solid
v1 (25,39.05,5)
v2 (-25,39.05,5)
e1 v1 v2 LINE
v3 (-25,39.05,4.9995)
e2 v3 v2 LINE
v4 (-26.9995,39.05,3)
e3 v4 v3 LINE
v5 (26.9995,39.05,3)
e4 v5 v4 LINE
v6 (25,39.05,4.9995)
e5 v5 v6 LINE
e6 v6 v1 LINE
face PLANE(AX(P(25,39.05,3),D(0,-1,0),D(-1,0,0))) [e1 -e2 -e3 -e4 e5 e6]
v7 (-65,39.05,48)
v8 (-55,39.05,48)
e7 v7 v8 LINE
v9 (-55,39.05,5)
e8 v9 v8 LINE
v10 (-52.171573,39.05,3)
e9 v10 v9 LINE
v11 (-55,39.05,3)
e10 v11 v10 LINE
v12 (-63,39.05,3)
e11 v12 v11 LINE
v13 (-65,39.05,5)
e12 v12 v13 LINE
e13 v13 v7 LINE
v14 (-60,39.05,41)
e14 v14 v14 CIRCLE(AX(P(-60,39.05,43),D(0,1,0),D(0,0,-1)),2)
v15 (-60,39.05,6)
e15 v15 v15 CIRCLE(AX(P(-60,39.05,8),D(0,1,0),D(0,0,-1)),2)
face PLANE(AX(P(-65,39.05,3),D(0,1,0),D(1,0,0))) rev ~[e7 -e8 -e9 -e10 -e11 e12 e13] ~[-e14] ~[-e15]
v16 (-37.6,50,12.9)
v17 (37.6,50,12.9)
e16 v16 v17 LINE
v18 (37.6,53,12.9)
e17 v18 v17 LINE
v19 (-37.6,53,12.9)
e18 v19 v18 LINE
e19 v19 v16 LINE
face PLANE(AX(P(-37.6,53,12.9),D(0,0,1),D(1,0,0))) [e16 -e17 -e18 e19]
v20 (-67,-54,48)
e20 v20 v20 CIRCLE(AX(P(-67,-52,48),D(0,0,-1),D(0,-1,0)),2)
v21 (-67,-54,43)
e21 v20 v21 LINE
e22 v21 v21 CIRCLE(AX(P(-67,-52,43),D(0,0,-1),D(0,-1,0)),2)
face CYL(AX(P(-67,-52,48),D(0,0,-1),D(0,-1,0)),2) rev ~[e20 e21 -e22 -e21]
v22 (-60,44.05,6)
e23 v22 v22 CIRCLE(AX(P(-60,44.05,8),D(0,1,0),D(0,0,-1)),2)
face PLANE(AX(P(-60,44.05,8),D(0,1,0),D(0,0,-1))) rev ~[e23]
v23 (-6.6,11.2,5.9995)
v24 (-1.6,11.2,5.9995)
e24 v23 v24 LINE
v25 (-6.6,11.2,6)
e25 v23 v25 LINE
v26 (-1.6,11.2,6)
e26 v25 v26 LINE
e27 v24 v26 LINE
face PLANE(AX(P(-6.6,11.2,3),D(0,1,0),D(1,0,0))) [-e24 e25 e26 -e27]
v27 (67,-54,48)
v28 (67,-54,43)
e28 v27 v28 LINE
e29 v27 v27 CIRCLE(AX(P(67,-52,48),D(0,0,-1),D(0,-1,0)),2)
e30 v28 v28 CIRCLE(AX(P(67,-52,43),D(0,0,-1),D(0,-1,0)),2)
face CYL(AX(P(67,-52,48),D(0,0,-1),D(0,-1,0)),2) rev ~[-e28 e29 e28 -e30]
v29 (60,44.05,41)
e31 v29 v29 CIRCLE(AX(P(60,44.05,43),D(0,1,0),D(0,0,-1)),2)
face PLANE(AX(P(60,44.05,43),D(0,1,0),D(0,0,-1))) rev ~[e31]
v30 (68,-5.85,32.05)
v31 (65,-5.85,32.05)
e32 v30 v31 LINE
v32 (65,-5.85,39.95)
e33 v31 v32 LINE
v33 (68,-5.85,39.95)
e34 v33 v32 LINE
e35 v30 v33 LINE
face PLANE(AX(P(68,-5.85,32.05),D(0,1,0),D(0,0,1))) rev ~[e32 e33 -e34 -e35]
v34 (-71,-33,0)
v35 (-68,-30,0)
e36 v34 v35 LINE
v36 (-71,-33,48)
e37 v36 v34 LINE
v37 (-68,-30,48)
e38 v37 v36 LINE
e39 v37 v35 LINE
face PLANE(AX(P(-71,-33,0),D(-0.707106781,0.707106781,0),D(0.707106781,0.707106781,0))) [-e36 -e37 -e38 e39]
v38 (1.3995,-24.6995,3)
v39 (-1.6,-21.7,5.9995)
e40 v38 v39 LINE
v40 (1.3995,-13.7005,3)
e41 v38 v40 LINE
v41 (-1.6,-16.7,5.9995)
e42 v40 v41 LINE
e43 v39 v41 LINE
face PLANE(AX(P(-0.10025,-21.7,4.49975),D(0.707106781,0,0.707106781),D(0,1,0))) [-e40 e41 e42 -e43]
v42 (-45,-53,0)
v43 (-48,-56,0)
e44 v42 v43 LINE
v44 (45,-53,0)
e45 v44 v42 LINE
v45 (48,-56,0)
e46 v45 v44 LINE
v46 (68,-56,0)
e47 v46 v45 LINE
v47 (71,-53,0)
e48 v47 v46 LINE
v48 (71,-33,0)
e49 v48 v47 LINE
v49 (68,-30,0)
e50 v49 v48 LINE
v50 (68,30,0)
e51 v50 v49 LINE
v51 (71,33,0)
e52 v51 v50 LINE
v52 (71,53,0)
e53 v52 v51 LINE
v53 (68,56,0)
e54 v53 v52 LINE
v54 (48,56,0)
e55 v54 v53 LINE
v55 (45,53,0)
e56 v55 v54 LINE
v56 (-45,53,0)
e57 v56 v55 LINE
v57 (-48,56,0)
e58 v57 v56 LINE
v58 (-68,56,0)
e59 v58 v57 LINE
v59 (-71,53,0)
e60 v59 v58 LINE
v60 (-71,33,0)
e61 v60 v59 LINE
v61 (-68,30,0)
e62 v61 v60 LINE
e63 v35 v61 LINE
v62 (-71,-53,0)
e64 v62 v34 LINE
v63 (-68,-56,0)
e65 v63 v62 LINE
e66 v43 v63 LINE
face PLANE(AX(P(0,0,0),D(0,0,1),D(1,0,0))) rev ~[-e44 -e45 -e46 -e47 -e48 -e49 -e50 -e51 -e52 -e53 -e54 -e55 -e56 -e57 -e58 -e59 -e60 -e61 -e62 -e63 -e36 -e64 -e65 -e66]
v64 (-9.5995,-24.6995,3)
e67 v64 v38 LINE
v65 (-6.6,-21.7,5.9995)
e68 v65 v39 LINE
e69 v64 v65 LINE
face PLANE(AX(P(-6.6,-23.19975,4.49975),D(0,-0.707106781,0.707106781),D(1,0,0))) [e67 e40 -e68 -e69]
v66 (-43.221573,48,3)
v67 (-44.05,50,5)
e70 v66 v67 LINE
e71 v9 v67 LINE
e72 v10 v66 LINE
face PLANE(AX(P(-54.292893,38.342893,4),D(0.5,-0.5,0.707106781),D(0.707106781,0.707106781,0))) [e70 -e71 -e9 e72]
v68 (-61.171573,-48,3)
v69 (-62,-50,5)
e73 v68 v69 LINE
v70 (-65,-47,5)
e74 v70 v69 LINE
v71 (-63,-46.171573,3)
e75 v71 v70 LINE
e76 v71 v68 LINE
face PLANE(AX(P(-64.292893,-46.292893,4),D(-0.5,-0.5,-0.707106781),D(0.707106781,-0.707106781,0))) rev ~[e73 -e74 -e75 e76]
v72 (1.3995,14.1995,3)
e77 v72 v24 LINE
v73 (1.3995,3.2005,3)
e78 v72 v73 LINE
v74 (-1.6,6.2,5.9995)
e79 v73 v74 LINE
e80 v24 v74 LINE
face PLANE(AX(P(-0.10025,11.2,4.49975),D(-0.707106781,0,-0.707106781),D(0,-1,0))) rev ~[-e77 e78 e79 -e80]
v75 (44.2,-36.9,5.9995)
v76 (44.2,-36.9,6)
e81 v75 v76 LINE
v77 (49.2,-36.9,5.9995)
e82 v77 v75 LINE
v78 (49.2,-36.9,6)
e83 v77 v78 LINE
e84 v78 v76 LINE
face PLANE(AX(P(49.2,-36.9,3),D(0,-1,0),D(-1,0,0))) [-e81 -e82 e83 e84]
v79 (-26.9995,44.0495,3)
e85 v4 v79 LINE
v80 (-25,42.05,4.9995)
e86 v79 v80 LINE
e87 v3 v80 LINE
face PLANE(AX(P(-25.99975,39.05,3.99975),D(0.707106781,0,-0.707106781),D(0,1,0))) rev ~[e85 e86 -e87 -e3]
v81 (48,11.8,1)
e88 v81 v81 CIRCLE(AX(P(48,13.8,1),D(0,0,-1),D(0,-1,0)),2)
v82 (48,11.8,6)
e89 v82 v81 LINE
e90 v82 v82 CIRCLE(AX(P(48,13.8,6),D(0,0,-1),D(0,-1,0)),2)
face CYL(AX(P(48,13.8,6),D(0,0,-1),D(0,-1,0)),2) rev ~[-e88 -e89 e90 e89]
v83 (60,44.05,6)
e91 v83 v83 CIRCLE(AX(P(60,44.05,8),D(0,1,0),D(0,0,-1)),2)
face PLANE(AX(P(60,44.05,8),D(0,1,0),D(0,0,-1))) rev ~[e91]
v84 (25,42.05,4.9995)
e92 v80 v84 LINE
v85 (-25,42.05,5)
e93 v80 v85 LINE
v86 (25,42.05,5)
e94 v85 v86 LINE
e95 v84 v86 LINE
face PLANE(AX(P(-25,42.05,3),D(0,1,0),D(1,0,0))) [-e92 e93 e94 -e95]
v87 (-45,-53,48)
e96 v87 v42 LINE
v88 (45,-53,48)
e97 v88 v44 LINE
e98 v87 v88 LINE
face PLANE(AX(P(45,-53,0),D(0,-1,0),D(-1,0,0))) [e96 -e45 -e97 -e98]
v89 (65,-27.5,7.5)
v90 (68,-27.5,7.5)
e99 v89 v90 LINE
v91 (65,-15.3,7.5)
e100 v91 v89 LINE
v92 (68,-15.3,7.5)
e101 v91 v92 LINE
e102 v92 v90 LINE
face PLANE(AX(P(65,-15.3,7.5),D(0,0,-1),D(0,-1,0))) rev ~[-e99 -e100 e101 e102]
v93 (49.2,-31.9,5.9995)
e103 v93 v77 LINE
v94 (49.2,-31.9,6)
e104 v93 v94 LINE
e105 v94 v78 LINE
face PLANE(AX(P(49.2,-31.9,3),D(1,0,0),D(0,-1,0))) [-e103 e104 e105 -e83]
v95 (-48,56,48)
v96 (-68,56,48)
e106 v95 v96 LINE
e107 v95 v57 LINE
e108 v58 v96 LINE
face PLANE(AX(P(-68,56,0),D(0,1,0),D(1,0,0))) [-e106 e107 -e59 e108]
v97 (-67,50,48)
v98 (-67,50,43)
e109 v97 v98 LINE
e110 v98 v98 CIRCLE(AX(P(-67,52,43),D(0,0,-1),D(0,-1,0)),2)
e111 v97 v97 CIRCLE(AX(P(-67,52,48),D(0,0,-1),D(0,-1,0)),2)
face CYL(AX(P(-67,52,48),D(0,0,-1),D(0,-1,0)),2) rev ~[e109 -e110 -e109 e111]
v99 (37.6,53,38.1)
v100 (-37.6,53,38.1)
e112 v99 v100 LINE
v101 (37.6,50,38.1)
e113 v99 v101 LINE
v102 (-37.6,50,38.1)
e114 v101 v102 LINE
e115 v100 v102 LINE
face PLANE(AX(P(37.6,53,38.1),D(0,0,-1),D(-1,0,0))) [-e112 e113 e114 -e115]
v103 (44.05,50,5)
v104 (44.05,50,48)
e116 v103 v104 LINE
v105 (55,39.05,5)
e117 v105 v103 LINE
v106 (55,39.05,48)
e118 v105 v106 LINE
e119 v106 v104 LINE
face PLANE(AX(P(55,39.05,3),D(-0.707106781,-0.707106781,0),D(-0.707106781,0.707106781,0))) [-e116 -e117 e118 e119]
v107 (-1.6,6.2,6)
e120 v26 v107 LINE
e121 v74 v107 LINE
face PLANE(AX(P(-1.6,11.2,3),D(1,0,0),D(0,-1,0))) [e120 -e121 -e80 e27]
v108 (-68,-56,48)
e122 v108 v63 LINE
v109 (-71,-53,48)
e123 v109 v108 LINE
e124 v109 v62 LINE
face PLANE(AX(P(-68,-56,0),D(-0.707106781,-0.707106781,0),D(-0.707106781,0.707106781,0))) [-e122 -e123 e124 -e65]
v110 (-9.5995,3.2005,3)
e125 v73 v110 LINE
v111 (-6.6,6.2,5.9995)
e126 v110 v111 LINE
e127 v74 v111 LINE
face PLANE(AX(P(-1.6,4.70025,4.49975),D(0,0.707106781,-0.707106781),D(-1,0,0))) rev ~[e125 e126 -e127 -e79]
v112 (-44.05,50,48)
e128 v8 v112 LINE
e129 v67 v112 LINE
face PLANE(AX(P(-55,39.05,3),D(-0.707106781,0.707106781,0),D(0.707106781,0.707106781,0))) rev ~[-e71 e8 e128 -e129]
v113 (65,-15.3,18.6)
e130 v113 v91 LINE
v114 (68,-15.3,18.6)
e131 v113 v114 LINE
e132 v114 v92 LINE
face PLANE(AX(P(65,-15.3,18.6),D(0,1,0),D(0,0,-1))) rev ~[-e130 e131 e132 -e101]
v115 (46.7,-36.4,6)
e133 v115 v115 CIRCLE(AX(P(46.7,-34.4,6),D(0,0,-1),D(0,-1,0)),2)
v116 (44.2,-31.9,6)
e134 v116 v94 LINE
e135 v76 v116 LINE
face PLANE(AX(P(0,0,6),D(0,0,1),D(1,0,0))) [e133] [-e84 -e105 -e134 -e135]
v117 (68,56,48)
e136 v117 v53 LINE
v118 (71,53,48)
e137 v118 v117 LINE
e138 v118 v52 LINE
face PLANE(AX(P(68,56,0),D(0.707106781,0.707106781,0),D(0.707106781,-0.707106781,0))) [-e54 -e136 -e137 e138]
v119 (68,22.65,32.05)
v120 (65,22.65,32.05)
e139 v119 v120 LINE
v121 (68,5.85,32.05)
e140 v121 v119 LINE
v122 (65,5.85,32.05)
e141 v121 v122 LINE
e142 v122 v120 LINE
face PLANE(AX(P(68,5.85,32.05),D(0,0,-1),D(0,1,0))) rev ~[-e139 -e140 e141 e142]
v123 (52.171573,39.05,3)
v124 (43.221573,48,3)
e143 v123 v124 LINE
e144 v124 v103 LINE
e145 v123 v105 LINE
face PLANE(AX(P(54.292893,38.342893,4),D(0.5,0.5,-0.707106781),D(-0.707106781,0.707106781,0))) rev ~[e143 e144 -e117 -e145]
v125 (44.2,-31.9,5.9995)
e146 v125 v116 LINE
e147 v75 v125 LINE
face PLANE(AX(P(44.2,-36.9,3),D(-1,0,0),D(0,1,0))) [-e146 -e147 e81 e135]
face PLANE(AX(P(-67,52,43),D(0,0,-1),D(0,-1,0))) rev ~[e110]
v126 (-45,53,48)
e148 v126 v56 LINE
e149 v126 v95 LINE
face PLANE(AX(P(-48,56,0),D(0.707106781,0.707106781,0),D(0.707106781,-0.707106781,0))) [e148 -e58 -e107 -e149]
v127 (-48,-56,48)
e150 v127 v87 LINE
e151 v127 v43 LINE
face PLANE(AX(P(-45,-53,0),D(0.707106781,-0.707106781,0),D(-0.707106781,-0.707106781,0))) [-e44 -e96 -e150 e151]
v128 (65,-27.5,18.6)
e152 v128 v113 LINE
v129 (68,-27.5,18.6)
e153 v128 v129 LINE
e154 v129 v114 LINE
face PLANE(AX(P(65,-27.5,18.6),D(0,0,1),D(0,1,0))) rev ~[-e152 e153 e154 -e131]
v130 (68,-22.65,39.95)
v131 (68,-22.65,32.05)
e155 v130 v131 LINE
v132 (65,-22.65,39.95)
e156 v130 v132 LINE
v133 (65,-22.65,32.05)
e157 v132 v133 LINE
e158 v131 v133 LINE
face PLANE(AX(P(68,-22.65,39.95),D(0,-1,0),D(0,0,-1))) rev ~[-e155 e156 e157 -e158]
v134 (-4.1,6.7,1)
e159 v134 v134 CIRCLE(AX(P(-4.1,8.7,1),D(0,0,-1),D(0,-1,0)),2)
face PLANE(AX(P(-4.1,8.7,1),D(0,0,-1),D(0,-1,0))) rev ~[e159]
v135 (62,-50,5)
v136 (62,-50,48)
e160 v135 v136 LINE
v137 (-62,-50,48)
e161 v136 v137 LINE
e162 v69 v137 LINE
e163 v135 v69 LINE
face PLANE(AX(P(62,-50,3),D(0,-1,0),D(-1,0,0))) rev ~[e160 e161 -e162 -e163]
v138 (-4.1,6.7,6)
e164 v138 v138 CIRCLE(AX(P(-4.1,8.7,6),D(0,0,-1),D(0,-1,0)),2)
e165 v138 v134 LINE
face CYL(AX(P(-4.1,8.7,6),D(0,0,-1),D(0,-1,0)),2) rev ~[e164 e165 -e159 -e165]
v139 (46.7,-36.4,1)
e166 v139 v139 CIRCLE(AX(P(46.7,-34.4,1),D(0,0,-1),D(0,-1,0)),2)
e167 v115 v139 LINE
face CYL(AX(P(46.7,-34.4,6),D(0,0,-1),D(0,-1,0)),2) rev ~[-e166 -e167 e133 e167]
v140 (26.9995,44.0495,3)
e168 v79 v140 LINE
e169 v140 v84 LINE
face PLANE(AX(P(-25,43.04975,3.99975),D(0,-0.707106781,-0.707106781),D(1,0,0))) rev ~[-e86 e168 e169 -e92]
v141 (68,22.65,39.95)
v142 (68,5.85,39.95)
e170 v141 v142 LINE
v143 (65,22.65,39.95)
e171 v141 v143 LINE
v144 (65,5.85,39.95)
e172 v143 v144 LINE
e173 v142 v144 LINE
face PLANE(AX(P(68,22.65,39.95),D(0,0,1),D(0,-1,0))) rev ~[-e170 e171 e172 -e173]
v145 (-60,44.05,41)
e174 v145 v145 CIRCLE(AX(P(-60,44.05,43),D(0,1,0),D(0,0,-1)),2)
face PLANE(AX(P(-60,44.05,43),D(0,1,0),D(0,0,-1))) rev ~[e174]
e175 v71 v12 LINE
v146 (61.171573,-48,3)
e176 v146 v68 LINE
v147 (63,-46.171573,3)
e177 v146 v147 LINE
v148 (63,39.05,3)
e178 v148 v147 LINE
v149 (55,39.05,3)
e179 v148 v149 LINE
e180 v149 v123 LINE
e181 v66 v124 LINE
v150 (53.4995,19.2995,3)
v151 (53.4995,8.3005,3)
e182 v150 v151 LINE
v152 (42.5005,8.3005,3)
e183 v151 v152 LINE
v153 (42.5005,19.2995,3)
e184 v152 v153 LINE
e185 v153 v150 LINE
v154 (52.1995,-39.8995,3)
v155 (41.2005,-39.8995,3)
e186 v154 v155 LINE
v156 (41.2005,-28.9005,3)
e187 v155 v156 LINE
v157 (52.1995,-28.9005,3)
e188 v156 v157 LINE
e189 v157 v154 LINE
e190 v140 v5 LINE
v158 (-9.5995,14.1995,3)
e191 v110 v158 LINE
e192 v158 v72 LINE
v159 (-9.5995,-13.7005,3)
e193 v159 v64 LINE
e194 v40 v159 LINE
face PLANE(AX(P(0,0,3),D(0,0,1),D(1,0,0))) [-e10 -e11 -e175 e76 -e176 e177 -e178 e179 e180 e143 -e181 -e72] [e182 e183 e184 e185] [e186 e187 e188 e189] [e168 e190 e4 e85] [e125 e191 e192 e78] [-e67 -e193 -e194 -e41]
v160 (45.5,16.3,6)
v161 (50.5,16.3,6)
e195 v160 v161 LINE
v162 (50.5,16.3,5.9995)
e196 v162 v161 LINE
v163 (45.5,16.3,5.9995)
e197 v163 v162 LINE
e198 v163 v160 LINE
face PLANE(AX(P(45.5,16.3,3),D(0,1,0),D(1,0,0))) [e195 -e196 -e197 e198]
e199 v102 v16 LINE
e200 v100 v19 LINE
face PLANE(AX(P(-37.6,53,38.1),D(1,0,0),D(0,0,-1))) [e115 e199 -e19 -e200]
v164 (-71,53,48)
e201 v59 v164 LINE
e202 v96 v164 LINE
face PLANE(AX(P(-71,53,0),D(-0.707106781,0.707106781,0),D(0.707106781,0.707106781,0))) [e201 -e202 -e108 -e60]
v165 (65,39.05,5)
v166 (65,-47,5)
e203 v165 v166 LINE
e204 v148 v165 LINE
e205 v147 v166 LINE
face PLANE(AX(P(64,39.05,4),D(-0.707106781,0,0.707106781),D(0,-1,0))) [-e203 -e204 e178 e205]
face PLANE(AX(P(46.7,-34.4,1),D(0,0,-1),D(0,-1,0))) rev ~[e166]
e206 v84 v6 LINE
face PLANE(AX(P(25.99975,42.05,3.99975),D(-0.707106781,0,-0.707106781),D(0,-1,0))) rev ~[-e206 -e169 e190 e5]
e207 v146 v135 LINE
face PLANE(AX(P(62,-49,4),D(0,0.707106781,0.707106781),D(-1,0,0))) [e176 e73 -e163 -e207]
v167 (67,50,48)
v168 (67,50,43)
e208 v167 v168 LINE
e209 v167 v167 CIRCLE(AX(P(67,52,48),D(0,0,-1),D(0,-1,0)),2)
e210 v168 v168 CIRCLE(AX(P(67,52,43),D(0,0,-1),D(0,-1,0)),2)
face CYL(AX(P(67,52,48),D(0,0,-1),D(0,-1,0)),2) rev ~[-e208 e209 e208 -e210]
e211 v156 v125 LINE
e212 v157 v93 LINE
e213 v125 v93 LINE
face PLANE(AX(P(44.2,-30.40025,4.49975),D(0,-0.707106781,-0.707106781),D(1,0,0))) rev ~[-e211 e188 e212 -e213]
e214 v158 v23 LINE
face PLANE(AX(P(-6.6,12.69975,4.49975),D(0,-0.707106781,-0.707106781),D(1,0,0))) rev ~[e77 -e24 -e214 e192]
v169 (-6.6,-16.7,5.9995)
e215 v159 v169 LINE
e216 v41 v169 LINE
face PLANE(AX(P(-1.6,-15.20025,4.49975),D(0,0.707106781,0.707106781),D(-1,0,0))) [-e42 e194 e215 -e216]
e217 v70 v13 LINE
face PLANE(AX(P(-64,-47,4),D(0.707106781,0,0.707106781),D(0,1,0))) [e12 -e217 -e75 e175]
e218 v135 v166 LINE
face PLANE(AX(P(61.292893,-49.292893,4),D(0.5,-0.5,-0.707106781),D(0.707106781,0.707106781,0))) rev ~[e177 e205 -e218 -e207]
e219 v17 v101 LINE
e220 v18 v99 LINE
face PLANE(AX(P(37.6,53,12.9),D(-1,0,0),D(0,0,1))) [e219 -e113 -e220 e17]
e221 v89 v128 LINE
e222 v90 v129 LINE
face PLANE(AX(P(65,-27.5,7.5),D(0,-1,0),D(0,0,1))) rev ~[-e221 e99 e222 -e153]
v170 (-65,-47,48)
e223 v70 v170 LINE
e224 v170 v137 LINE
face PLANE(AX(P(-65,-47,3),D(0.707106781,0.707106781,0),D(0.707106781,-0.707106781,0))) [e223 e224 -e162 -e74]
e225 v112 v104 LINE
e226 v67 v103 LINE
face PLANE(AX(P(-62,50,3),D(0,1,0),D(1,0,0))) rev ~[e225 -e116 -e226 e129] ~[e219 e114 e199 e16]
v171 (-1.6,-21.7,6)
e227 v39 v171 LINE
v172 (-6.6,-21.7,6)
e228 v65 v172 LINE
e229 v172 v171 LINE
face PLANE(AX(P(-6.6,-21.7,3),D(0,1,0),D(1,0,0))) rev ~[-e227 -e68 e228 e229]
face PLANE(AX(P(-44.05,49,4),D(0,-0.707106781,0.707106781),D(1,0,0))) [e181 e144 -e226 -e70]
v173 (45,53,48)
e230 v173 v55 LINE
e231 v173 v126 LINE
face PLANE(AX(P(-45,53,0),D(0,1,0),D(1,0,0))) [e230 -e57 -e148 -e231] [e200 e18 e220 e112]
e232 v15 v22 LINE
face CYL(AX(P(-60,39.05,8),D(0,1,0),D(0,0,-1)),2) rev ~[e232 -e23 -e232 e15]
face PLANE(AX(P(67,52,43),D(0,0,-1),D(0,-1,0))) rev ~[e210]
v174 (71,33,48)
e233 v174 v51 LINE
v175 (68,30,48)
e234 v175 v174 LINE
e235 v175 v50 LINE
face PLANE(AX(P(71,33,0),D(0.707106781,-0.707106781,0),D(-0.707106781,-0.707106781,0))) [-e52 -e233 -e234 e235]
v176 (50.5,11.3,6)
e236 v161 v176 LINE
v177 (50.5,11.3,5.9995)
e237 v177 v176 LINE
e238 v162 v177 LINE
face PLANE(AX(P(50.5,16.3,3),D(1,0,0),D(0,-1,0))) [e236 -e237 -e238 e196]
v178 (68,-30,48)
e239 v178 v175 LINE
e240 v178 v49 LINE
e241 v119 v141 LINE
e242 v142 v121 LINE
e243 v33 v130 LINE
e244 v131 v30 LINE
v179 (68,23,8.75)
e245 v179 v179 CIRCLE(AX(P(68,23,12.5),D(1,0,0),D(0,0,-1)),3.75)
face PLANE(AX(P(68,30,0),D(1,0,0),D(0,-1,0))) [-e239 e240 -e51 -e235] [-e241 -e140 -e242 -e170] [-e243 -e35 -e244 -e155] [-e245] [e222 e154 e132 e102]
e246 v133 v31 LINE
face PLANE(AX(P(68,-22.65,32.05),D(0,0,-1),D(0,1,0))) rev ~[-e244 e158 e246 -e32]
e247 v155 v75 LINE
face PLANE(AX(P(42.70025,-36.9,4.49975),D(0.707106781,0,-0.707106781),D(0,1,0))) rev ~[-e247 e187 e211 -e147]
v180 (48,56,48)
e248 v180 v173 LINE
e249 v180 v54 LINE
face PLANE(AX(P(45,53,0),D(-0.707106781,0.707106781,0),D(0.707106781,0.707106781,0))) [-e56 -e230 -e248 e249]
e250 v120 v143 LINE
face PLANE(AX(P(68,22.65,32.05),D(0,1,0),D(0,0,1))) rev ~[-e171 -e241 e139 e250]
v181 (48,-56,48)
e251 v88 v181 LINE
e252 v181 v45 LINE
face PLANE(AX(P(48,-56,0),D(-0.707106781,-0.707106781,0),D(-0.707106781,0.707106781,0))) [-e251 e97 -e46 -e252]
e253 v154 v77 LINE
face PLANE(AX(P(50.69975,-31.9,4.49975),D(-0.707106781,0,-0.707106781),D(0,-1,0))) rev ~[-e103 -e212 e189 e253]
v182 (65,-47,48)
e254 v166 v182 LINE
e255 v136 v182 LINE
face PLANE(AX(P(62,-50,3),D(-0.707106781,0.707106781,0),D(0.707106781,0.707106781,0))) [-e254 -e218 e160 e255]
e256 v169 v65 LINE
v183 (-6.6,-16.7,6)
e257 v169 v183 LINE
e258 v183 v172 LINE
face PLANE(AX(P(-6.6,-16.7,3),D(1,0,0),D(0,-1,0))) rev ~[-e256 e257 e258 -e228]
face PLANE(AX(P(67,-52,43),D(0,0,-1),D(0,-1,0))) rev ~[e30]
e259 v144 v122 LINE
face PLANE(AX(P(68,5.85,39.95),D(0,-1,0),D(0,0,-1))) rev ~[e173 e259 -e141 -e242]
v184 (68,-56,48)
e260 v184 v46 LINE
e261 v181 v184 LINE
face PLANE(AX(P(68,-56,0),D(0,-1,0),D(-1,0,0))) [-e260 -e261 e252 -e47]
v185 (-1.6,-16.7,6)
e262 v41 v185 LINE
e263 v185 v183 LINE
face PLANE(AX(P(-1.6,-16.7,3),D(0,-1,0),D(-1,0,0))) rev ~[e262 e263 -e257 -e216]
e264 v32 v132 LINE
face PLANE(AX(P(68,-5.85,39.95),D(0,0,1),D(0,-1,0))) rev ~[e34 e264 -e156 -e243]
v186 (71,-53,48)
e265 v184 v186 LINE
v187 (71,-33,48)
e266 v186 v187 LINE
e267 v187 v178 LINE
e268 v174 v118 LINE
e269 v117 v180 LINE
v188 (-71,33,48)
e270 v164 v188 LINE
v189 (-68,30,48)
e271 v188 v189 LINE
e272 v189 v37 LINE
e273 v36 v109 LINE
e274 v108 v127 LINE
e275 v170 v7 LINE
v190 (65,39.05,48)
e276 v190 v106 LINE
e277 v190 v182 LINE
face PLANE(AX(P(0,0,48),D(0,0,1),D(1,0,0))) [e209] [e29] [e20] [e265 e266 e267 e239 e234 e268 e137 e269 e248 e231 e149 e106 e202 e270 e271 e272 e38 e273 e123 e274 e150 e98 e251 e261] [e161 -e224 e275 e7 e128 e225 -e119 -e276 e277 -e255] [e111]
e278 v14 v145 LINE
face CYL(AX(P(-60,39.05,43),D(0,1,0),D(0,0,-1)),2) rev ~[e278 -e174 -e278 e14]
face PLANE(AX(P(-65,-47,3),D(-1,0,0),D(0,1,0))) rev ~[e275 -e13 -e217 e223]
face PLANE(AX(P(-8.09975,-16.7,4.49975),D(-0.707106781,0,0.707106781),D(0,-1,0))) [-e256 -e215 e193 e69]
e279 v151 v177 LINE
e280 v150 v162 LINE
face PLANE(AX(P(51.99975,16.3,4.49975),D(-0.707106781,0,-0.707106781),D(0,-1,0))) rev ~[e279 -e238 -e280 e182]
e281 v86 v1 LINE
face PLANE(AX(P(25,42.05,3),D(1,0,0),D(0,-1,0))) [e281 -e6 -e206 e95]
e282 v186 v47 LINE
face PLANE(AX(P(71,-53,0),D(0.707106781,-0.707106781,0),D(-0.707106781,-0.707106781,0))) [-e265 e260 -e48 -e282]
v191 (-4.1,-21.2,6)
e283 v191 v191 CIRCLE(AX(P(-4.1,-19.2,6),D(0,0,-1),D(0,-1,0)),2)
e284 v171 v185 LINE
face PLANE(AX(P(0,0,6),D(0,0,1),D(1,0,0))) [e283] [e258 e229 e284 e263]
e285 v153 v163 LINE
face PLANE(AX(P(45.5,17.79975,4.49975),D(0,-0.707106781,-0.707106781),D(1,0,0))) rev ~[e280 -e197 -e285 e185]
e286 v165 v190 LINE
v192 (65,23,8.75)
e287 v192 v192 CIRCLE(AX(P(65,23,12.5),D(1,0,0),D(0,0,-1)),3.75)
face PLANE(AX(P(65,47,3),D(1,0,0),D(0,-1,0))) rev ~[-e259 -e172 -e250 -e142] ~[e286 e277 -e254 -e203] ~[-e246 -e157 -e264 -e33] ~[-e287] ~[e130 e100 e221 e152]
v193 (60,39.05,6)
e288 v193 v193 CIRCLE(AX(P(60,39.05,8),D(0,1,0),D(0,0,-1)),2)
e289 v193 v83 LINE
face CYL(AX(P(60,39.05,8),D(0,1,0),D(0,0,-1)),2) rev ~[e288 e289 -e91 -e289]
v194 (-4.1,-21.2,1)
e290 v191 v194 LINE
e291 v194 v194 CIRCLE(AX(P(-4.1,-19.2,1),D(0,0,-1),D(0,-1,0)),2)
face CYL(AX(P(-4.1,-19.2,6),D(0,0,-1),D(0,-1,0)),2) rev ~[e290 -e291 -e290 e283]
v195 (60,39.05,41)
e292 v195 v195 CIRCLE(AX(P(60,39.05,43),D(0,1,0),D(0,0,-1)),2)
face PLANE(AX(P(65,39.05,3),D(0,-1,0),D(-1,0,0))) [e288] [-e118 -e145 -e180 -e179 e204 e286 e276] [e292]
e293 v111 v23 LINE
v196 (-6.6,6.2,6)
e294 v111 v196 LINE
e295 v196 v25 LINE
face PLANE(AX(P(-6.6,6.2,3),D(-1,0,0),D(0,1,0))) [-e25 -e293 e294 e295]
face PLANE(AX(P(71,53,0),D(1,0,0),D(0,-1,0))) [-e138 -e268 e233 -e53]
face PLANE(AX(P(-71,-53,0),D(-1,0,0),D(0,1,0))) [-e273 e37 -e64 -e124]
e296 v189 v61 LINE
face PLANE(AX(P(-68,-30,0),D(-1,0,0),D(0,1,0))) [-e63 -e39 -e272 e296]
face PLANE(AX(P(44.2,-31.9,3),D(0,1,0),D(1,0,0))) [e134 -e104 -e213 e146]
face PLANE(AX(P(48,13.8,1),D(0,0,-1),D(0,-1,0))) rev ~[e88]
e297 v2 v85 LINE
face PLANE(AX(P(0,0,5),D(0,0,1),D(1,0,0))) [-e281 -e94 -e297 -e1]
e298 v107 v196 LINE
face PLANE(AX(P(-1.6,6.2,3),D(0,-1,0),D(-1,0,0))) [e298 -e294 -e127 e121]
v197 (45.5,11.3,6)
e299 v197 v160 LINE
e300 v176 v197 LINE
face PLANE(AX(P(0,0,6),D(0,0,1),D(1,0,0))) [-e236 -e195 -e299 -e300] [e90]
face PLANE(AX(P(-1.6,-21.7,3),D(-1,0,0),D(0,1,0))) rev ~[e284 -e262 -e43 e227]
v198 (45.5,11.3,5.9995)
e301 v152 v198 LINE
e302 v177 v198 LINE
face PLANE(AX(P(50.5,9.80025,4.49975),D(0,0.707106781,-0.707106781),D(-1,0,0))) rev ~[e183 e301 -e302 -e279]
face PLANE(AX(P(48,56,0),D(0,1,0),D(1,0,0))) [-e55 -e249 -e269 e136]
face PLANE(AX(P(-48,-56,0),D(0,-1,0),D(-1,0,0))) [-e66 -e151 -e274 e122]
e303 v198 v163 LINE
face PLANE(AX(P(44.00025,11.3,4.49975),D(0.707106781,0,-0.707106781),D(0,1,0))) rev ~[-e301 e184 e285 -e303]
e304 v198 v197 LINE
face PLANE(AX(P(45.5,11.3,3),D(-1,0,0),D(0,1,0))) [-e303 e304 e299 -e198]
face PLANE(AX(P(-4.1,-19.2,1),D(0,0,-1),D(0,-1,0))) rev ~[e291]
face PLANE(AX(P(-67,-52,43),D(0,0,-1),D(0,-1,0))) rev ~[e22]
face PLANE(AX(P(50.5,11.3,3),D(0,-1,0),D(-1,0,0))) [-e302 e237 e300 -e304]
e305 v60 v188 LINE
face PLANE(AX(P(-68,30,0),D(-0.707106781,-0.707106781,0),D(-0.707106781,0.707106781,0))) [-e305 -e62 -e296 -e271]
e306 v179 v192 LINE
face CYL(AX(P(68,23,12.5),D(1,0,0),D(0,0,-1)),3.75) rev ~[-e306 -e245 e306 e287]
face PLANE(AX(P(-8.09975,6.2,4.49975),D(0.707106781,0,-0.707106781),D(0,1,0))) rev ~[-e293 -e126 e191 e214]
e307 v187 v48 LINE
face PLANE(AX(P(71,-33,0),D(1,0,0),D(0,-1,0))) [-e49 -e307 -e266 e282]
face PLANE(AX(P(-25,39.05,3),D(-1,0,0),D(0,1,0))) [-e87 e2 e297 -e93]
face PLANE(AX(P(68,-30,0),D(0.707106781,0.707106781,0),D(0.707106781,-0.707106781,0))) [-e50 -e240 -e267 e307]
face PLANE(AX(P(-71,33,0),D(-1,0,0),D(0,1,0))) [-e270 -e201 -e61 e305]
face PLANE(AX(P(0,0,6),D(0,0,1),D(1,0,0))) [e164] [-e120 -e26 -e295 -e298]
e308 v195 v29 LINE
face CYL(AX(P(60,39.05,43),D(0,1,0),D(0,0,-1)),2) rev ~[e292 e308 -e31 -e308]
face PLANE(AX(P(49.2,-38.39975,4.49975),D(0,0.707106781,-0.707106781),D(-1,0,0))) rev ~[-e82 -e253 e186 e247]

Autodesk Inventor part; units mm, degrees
ref_plane "YZ Plane" through (0, 0, 0) normal (1, 0, 0) x (0, 1, 0)
ref_plane "XZ Plane" through (0, 0, 0) normal (0, 1, 0) x (-1, 0, 0)
ref_plane "XY Plane" through (0, 0, 0) normal (0, 0, 1) x (1, 0, 0)
sketch "Sketch1" plane through (0, 0, 0) normal (0, 0, 1) x (1, 0, 0)
  line L0 (-68, 56) -> (-48, 56)
  line L1 (-48, 56) -> (-45, 53)
  line L2 (-45, 53) -> (45, 53)
  line L3 (45, 53) -> (48, 56)
  line L4 (48, 56) -> (68, 56)
  line L5 (68, 56) -> (71, 53)
  line L6 (71, 53) -> (71, 33)
  line L7 (71, 33) -> (68, 30)
  line L8 (68, 30) -> (68, -30)
  line L9 (68, -30) -> (71, -33)
  line L10 (71, -33) -> (71, -53)
  line L11 (71, -53) -> (68, -56)
  line L12 (68, -56) -> (48, -56)
  line L13 (48, -56) -> (45, -53)
  line L14 (45, -53) -> (-45, -53)
  line L15 (-45, -53) -> (-48, -56)
  line L16 (-48, -56) -> (-68, -56)
  line L17 (-68, -56) -> (-71, -53)
  line L18 (-71, -53) -> (-71, -33)
  line L19 (-71, -33) -> (-68, -30)
  line L20 (-68, -30) -> (-68, 30)
  line L21 (-68, 30) -> (-71, 33)
  line L22 (-71, 33) -> (-71, 53)
  line L23 (-71, 53) -> (-68, 56)
  point P0 (0, 0)
  point P1 (-68, 0)
  point P2 (68, 0)
  point P3 (0, -53)
  point P4 (0, 53)
  dimension "d0" = 20
  dimension "d1" = 3
  dimension "d2" = 3
  dimension "d3" = 20
  dimension "d4" = 90
  dimension "d5" = 60
extrude "Extrusion1" add sketch "Sketch1" along normal blind 3
sketch "Sketch2" plane through (0, 0, 3) normal (0, 0, 1) x (1, 0, 0)
  line L0 (-62, 50) -> (62, 50)
  line L1 (65, 47) -> (65, -47)
  line L2 (62, -50) -> (-62, -50)
  line L3 (-65, -47) -> (-65, 47)
  line L4 (-71, 53) -> (-71, 33) projected
  line L5 (-71, 33) -> (-68, 30) projected
  line L6 (-68, 30) -> (-68, -30) projected
  line L7 (-68, -30) -> (-71, -33) projected
  line L8 (-71, -33) -> (-71, -53) projected
  line L9 (-71, -53) -> (-68, -56) projected
  line L10 (-68, -56) -> (-48, -56) projected
  line L11 (-48, -56) -> (-45, -53) projected
  line L12 (-45, -53) -> (45, -53) projected
  line L13 (45, -53) -> (48, -56) projected
  line L14 (48, -56) -> (68, -56) projected
  line L15 (68, -56) -> (71, -53) projected
  line L16 (71, -53) -> (71, -33) projected
  line L17 (71, -33) -> (68, -30) projected
  line L18 (68, -30) -> (68, 30) projected
  line L19 (68, 30) -> (71, 33) projected
  line L20 (71, 33) -> (71, 53) projected
  line L21 (71, 53) -> (68, 56) projected
  line L22 (68, 56) -> (48, 56) projected
  line L23 (48, 56) -> (45, 53) projected
  line L24 (45, 53) -> (-45, 53) projected
  line L25 (-45, 53) -> (-48, 56) projected
  line L26 (-48, 56) -> (-68, 56) projected
  line L27 (-68, 56) -> (-71, 53) projected
  line L28 (-65, -47) -> (-62, -50)
  line L29 (62, -50) -> (65, -47)
  line L30 (65, 47) -> (62, 50)
  line L31 (-65, 47) -> (-62, 50)
  point P0 (0, 0)
  point P1 (-65, 50)
  point P2 (65, -50)
  point P3 (65, 50)
  point P4 (-65, -50)
  point P5 (0, 50)
  point P6 (-65, 0)
  dimension "d8" = 3
  dimension "d9" = 3
  dimension "d10" = 3
  dimension "d11" = 3
  dimension "d12" = 3
  dimension "d13" = 3
  dimension "d14" = 3
  dimension "d15" = 3
  dimension "d17" = 3
  dimension "d18" = 3
extrude "Extrusion2" add sketch "Sketch2" along normal blind 45
sketch "Sketch5" plane through (0, 0, 3) normal (0, 0, 1) x (1, 0, 0)
  line L0 (62, -37) -> (-6.6, -37) construction
  line L1 (-6.6, -37) -> (-6.6, 16.3) construction
  line L2 (-6.6, 16.3) -> (62, 16.3) construction
  line L3 (62, 16.3) -> (62, -37) construction
  line L4 (-65, -47) -> (-62, -50) construction
  line L5 (-62, -50) -> (62, -50) construction
  line L6 (62, -50) -> (65, -47) construction
  line L7 (65, -47) -> (65, 47) construction
  line L8 (65, 47) -> (62, 50) construction
  line L9 (62, 50) -> (-62, 50) construction
  line L10 (-62, 50) -> (-65, 47) construction
  line L11 (-65, 47) -> (-65, -47) construction
  line L12 (49.2, -36.9) -> (44.2, -36.9)
  line L13 (44.2, -36.9) -> (44.2, -31.9)
  line L14 (44.2, -31.9) -> (49.2, -31.9)
  line L15 (49.2, -31.9) -> (49.2, -36.9)
  line L16 (49.2, -36.9) -> (44.2, -31.9) construction
  line L17 (44.2, -36.9) -> (49.2, -31.9) construction
  line L18 (-1.6, 6.2) -> (-6.6, 6.2)
  line L19 (-6.6, 6.2) -> (-6.6, 11.2)
  line L20 (-6.6, 11.2) -> (-1.6, 11.2)
  line L21 (-1.6, 11.2) -> (-1.6, 6.2)
  line L22 (-1.6, 6.2) -> (-6.6, 11.2) construction
  line L23 (-6.6, 6.2) -> (-1.6, 11.2) construction
  line L24 (-6.6, -21.7) -> (-1.6, -21.7)
  line L25 (-1.6, -21.7) -> (-1.6, -16.7)
  line L26 (-1.6, -16.7) -> (-6.6, -16.7)
  line L27 (-6.6, -16.7) -> (-6.6, -21.7)
  line L28 (-6.6, -21.7) -> (-1.6, -16.7) construction
  line L29 (-1.6, -21.7) -> (-6.6, -16.7) construction
  line L30 (50.5, 11.3) -> (45.5, 11.3)
  line L31 (45.5, 11.3) -> (45.5, 16.3)
  line L32 (45.5, 16.3) -> (50.5, 16.3)
  line L33 (50.5, 16.3) -> (50.5, 11.3)
  line L34 (50.5, 11.3) -> (45.5, 16.3) construction
  line L35 (45.5, 11.3) -> (50.5, 16.3) construction
  point P0 (0, 0)
  point P1 (46.7, -34.4)
  point P2 (-4.1, -19.2)
  point P3 (48, 13.8)
  point P4 (-4.1, 8.7)
  dimension "d47" = 53.3
  dimension "d48" = 68.6
  dimension "d49" = 13
  dimension "d50" = 3
  dimension "d51" = 14
  dimension "d52" = 1.3
  dimension "d53" = 50.8
  dimension "d54" = 2.5
  dimension "d55" = 5.1
  dimension "d56" = 27.9
  dimension "d57" = 15.2
  dimension "d58" = 5
  dimension "d59" = 5
extrude "Extrusion6" add sketch "Sketch5" along normal blind 3
chamfer "Chamfer2" distance 3 angle 45 16 edges at (46.7, -31.9, 3) (44.2, -34.4, 3) (46.7, -36.9, 3) (49.2, -34.4, 3) (48, 11.3, 3) (50.5, 13.8, 3) (48, 16.3, 3) (45.5, 13.8, 3) (-4.1, 11.2, 3) (-6.6, 8.7, 3) (-4.1, 6.2, 3) (-1.6, 8.7, 3) (-4.1, -16.7, 3) (-6.6, -19.2, 3) (-4.1, -21.7, 3) (-1.6, -19.2, 3)
sketch "Sketch6" plane through (0, 0, 6) normal (0, 0, 1) x (1, 0, 0)
  point P0 (0, 0)
  point P1 (46.7, -34.4)
  point P2 (48, 13.8)
  point P3 (-4.1, 8.7)
  point P4 (-4.1, -19.2)
hole "Hole1" at (46.7, -34.4, 6) at (48, 13.8, 6) at (-4.1, 8.7, 6) at (-4.1, -19.2, 6) direction (0, 0, -1) diameter 4 depth 5
sketch "Sketch7" plane through (65, -47, 3) normal (-1, 0, 0) x (0, 0, 1)
  line L0 (3, 10) -> (3, 63.3) construction
  line L1 (0, 0) -> (0, 94) construction
  line L2 (0, 0) -> (45, 0) construction
  line L3 (45, 94) -> (45, 0) construction
  line L4 (0, 94) -> (45, 94) construction
  line L5 (3, 63.3) -> (4.6, 63.3) construction
  line L6 (4.6, 63.3) -> (4.6, 0) construction
  line L7 (0, 0) -> (45, 0) construction
  line L8 (15.6, 31.7) -> (4.5, 31.7)
  line L9 (4.5, 31.7) -> (4.5, 19.5)
  line L10 (4.5, 19.5) -> (15.6, 19.5)
  line L11 (15.6, 19.5) -> (15.6, 31.7)
  point P0 (-3, 47)
  point P1 (3, 12.6)
  point P2 (3, 60.8)
  point P3 (0, 10)
  point P4 (0, 63.3)
  dimension "d73" = 1.6
  dimension "d75" = 12.2
  dimension "d76" = 11.1
  dimension "d77" = 0.1
  dimension "d80" = 9.5
extrude "Extrusion7" cut sketch "Sketch7" against normal up to surface (3 mm away)
sketch "Sketch8" plane through (-45, 53, 0) normal (0, 1, 0) x (1, 0, 0)
  line L0 (82.6, -38.1) -> (7.4, -38.1)
  line L1 (7.4, -38.1) -> (7.4, -12.9)
  line L2 (7.4, -12.9) -> (82.6, -12.9)
  line L3 (82.6, -12.9) -> (82.6, -38.1)
  line L4 (90, -48) -> (0, -48) construction
  line L5 (90, 0) -> (0, 0) projected
  line L6 (82.6, -25.5) -> (7.4, -25.5) construction
  line L7 (90, 0) -> (90, -48) construction
  line L8 (90, -24) -> (-0.5175, -24) construction
  point P0 (45, 0)
  point P1 (45, -38.1)
  point P2 (45, -48)
  dimension "d81" = 75.2
  dimension "d82" = 25.2
  dimension "d84" = 1.5
extrude "Extrusion8" cut sketch "Sketch8" against normal up to surface (3 mm away)
sketch "Sketch9" plane through (0, 0, 3) normal (0, 0, 1) x (1, 0, 0)
  line L0 (65, 36.05) -> (-65, 36.05) construction
  line L1 (-65, 36.05) -> (-65, 39.05) construction
  line L2 (-65, 39.05) -> (65, 39.05) construction
  line L3 (65, 39.05) -> (65, 36.05) construction
  line L4 (-9.6, 14.2) -> (-9.6, 3.2) construction
  line L5 (1.4, 14.2) -> (-9.6, 14.2) construction
  line L6 (1.4, 3.2) -> (1.4, 14.2) construction
  line L7 (-9.6, 3.2) -> (1.4, 3.2) construction
  line L8 (41.2, -28.9) -> (41.2, -39.9) construction
  line L9 (52.2, -28.9) -> (41.2, -28.9) construction
  line L10 (52.2, -39.9) -> (52.2, -28.9) construction
  line L11 (41.2, -39.9) -> (52.2, -39.9) construction
  line L12 (-65, -47) -> (-62, -50) construction
  line L13 (-62, -50) -> (62, -50) construction
  line L14 (62, -50) -> (65, -47) construction
  line L15 (65, -47) -> (65, 47) construction
  line L16 (65, 47) -> (62, 50) construction
  line L17 (62, 50) -> (-62, 50) construction
  line L18 (-62, 50) -> (-65, 47) construction
  line L19 (-65, 47) -> (-65, -47) construction
  line L20 (53.5, 8.3) -> (53.5, 19.3) construction
  line L21 (42.5, 8.3) -> (53.5, 8.3) construction
  line L22 (42.5, 19.3) -> (42.5, 8.3) construction
  line L23 (53.5, 19.3) -> (42.5, 19.3) construction
  line L24 (-9.6, -24.7) -> (1.4, -24.7) construction
  line L25 (-9.6, -13.7) -> (-9.6, -24.7) construction
  line L26 (1.4, -13.7) -> (-9.6, -13.7) construction
  line L27 (1.4, -24.7) -> (1.4, -13.7) construction
  line L28 (-71, 53) -> (-71, 33) construction
  line L29 (-68, 56) -> (-71, 53) construction
  line L30 (-48, 56) -> (-68, 56) construction
  line L31 (-45, 53) -> (-48, 56) construction
  line L32 (45, 53) -> (-45, 53) construction
  line L33 (48, 56) -> (45, 53) construction
  line L34 (68, 56) -> (48, 56) construction
  line L35 (71, 53) -> (68, 56) construction
  line L36 (71, 33) -> (71, 53) construction
  line L37 (68, 30) -> (71, 33) construction
  line L38 (68, -30) -> (68, 30) construction
  line L39 (71, -33) -> (68, -30) construction
  line L40 (71, -53) -> (71, -33) construction
  line L41 (68, -56) -> (71, -53) construction
  line L42 (48, -56) -> (68, -56) construction
  line L43 (45, -53) -> (48, -56) construction
  line L44 (-45, -53) -> (45, -53) construction
  line L45 (-48, -56) -> (-45, -53) construction
  line L46 (-68, -56) -> (-48, -56) construction
  line L47 (-71, -53) -> (-68, -56) construction
  line L48 (-71, -33) -> (-71, -53) construction
  line L49 (-68, -30) -> (-71, -33) construction
  line L50 (-68, 30) -> (-68, -30) construction
  line L51 (-71, 33) -> (-68, 30) construction
  line L52 (25, 39.05) -> (-25, 39.05)
  line L53 (-25, 39.05) -> (-25, 42.05)
  line L54 (-25, 42.05) -> (25, 42.05)
  line L55 (25, 42.05) -> (25, 39.05)
  point P0 (0, 0)
  point P1 (55, 39.05)
  point P2 (-35, 39.05)
  point P3 (-55, 42.05)
  point P4 (0, 42.05)
  dimension "d87" = 3
  dimension "d88" = 13.95
  dimension "d89" = 50
  dimension "d98" = 3
extrude "Extrusion9" add sketch "Sketch9" along normal blind 2
chamfer "Chamfer4" distance 2 angle 45 3 edges at (-25, 40.55, 3) (0, 42.05, 3) (25, 40.55, 3)
sketch "Sketch10" plane through (0, 0, 3) normal (0, 0, 1) x (1, 0, 0)
  line L0 (27, 39.05) -> (-27, 39.05) construction
  line L1 (-27, 44.05) -> (-27, 39.05) construction
  line L2 (27, 44.05) -> (-27, 44.05) construction
  line L3 (27, 39.05) -> (27, 44.05) construction
  line L4 (-9.6, 14.2) -> (-9.6, 3.2) construction
  line L5 (1.4, 14.2) -> (-9.6, 14.2) construction
  line L6 (1.4, 3.2) -> (1.4, 14.2) construction
  line L7 (-9.6, 3.2) -> (1.4, 3.2) construction
  line L8 (41.2, -28.9) -> (41.2, -39.9) construction
  line L9 (52.2, -28.9) -> (41.2, -28.9) construction
  line L10 (52.2, -39.9) -> (52.2, -28.9) construction
  line L11 (41.2, -39.9) -> (52.2, -39.9) construction
  line L12 (-65, -47) -> (-62, -50) construction
  line L13 (-62, -50) -> (62, -50) construction
  line L14 (62, -50) -> (65, -47) construction
  line L15 (65, -47) -> (65, 47) construction
  line L16 (65, 47) -> (62, 50) construction
  line L17 (62, 50) -> (-62, 50) construction
  line L18 (-62, 50) -> (-65, 47) projected
  line L19 (-65, 47) -> (-65, -47) construction
  line L20 (53.5, 8.3) -> (53.5, 19.3) construction
  line L21 (42.5, 8.3) -> (53.5, 8.3) construction
  line L22 (42.5, 19.3) -> (42.5, 8.3) construction
  line L23 (53.5, 19.3) -> (42.5, 19.3) construction
  line L24 (-9.6, -24.7) -> (1.4, -24.7) construction
  line L25 (-9.6, -13.7) -> (-9.6, -24.7) construction
  line L26 (1.4, -13.7) -> (-9.6, -13.7) construction
  line L27 (1.4, -24.7) -> (1.4, -13.7) construction
  line L28 (-65, 39.05) -> (-55, 39.05)
  line L29 (-65, 39.05) -> (-65, 47)
  line L30 (-62, 50) -> (-44.05, 50)
  line L31 (0, 50) -> (0, 0) construction
  line L32 (-55, 39.05) -> (-44.05, 50)
  line L33 (62, 50) -> (65, 47)
  line L34 (65, 39.05) -> (55, 39.05)
  line L35 (65, 39.05) -> (65, 47)
  line L36 (62, 50) -> (44.05, 50)
  line L37 (55, 39.05) -> (44.05, 50)
  dimension "d104" = 10
  dimension "d107" = 135
extrude "Extrusion10" add sketch "Sketch10" along normal up to surface (45 mm away)
sketch "Sketch11" plane through (-65, 39.05, 3) normal (0, -1, 0) x (1, 0, 0)
  line L0 (10, 45) -> (0, 45) construction
  line L1 (0, 0) -> (0, 45) construction
  line L2 (10, 0) -> (0, 0) construction
  line L3 (10, 0) -> (10, 45) construction
  line L4 (130, 45) -> (120, 45) construction
  line L5 (120, 0) -> (120, 45) construction
  line L6 (130, 0) -> (120, 0) construction
  line L7 (130, 45) -> (130, 0) construction
  point P0 (65, -3)
  point P1 (5, 40)
  point P2 (5, 5)
  point P3 (125, 40)
  point P4 (125, 5)
  dimension "d108" = 5
  dimension "d109" = 5
  dimension "d110" = 5
  dimension "d111" = 5
hole "Hole2" at (-60, 39.05, 43) at (-60, 39.05, 8) at (60, 39.05, 43) at (60, 39.05, 8) direction (0, 1, 0) diameter 4 depth 5
sketch "Sketch12" plane through (0, 0, 48) normal (0, 0, 1) x (1, 0, 0)
  line L0 (-71, 33) -> (-68, 30) construction
  line L1 (-68, 30) -> (-68, -30) construction
  line L2 (-68, -30) -> (-71, -33) construction
  line L3 (-71, -33) -> (-71, -53) construction
  line L4 (-71, -53) -> (-68, -56) construction
  line L5 (-68, -56) -> (-48, -56) construction
  line L6 (-48, -56) -> (-45, -53) construction
  line L7 (-45, -53) -> (45, -53) construction
  line L8 (45, -53) -> (48, -56) construction
  line L9 (48, -56) -> (68, -56) construction
  line L10 (68, -56) -> (71, -53) construction
  line L11 (71, -53) -> (71, -33) construction
  line L12 (71, -33) -> (68, -30) construction
  line L13 (68, -30) -> (68, 30) construction
  line L14 (68, 30) -> (71, 33) construction
  line L15 (71, 33) -> (71, 53) construction
  line L16 (71, 53) -> (68, 56) construction
  line L17 (68, 56) -> (48, 56) construction
  line L18 (48, 56) -> (45, 53) construction
  line L19 (45, 53) -> (-45, 53) construction
  line L20 (-45, 53) -> (-48, 56) construction
  line L21 (-48, 56) -> (-68, 56) construction
  line L22 (-68, 56) -> (-71, 53) construction
  line L23 (-71, 53) -> (-71, 33) construction
  line L24 (-65, -47) -> (-65, 39.05) construction
  line L25 (-55, 39.05) -> (-65, 39.05) construction
  line L26 (-44.05, 50) -> (-55, 39.05) construction
  line L27 (-44.05, 50) -> (44.05, 50) construction
  line L28 (55, 39.05) -> (44.05, 50) construction
  line L29 (65, 39.05) -> (55, 39.05) construction
  line L30 (65, 39.05) -> (65, -47) construction
  line L31 (65, -47) -> (62, -50) construction
  line L32 (62, -50) -> (-62, -50) construction
  line L33 (-62, -50) -> (-65, -47) construction
  line L34 (-67, -52) -> (67, 52) construction
  line L35 (-67, 52) -> (67, -52) construction
  point P0 (0, 0)
  dimension "d119" = 4
  dimension "d120" = 4
hole "Hole3" at (-67, 52, 48) at (-67, -52, 48) at (67, -52, 48) at (67, 52, 48) direction (0, 0, -1) diameter 4 depth 5
sketch "Sketch13" plane through (68, -30, 0) normal (1, 0, 0) x (0, 0, -1)
  line L0 (-39.95, 35.85) -> (-32.05, 35.85)
  line L1 (-32.05, 35.85) -> (-32.05, 52.65)
  line L2 (-32.05, 52.65) -> (-39.95, 52.65)
  line L3 (-39.95, 52.65) -> (-39.95, 35.85)
  line L4 (-43, 32.5) -> (-29, 32.5) construction
  line L5 (-29, 32.5) -> (-29, 56) construction
  line L6 (-29, 56) -> (-43, 56) construction
  line L7 (-43, 56) -> (-43, 32.5) construction
  line L8 (-18.6, 14.7) -> (-7.5, 14.7) construction
  line L9 (-7.5, 14.7) -> (-7.5, 2.5) construction
  line L10 (-7.5, 2.5) -> (-18.6, 2.5) construction
  line L11 (-18.6, 2.5) -> (-18.6, 14.7) construction
  line L12 (0, 0) -> (0, 60) construction
  line L13 (0, 60) -> (-48, 60) construction
  line L14 (-48, 0) -> (-48, 60) construction
  line L15 (0, 0) -> (-48, 0) construction
  circle A0 centre (-12.5, 53) radius 3.75
  line L16 (-43, 4) -> (-29, 4) construction
  line L17 (-29, 4) -> (-29, 27.5) construction
  line L18 (-29, 27.5) -> (-43, 27.5) construction
  line L19 (-43, 27.5) -> (-43, 4) construction
  line L20 (-39.95, 7.35) -> (-32.05, 7.35)
  line L21 (-32.05, 7.35) -> (-32.05, 24.15)
  line L22 (-32.05, 24.15) -> (-39.95, 24.15)
  line L23 (-39.95, 24.15) -> (-39.95, 7.35)
  point P0 (0, 30)
  point P1 (-36, 35.85)
  point P2 (-39.95, 44.25)
  point P3 (-43, 44.25)
  point P4 (-36, 32.5)
  point P5 (-18.6, 8.6)
  point P6 (-43, 15.75)
  point P7 (-39.95, 15.75)
  dimension "d128" = 23.5
  dimension "d129" = 14
  dimension "d130" = 7.9
  dimension "d131" = 16.8
  dimension "d136" = 5
  dimension "d137" = 4
  dimension "d142" = 7.5
  dimension "d143" = 12.5
  dimension "d144" = 7
  dimension "d145" = 4
extrude "Extrusion11" cut sketch "Sketch13" against normal blind 10
chamfer "Chamfer5" distance 2 angle 45 8 edges at (0, 50, 3) (-49.525, 44.525, 3) (-65, -3.975, 3) (0, -50, 3) (-63.5, -48.5, 3) (63.5, -48.5, 3) (65, -3.975, 3) (49.525, 44.525, 3)
equation "\"d2\" = d1"
equation "\"d3\" = d0"
equation "\"d9\" = d8"
equation "\"d11\" = d10"
equation "\"d12\" = d10"
equation "\"d13\" = d12"
equation "\"d14\" = d10"
equation "\"d15\" = d14"
equation "\"d17\" = d8"
equation "\"d18\" = d10"
properties part number "Case"
